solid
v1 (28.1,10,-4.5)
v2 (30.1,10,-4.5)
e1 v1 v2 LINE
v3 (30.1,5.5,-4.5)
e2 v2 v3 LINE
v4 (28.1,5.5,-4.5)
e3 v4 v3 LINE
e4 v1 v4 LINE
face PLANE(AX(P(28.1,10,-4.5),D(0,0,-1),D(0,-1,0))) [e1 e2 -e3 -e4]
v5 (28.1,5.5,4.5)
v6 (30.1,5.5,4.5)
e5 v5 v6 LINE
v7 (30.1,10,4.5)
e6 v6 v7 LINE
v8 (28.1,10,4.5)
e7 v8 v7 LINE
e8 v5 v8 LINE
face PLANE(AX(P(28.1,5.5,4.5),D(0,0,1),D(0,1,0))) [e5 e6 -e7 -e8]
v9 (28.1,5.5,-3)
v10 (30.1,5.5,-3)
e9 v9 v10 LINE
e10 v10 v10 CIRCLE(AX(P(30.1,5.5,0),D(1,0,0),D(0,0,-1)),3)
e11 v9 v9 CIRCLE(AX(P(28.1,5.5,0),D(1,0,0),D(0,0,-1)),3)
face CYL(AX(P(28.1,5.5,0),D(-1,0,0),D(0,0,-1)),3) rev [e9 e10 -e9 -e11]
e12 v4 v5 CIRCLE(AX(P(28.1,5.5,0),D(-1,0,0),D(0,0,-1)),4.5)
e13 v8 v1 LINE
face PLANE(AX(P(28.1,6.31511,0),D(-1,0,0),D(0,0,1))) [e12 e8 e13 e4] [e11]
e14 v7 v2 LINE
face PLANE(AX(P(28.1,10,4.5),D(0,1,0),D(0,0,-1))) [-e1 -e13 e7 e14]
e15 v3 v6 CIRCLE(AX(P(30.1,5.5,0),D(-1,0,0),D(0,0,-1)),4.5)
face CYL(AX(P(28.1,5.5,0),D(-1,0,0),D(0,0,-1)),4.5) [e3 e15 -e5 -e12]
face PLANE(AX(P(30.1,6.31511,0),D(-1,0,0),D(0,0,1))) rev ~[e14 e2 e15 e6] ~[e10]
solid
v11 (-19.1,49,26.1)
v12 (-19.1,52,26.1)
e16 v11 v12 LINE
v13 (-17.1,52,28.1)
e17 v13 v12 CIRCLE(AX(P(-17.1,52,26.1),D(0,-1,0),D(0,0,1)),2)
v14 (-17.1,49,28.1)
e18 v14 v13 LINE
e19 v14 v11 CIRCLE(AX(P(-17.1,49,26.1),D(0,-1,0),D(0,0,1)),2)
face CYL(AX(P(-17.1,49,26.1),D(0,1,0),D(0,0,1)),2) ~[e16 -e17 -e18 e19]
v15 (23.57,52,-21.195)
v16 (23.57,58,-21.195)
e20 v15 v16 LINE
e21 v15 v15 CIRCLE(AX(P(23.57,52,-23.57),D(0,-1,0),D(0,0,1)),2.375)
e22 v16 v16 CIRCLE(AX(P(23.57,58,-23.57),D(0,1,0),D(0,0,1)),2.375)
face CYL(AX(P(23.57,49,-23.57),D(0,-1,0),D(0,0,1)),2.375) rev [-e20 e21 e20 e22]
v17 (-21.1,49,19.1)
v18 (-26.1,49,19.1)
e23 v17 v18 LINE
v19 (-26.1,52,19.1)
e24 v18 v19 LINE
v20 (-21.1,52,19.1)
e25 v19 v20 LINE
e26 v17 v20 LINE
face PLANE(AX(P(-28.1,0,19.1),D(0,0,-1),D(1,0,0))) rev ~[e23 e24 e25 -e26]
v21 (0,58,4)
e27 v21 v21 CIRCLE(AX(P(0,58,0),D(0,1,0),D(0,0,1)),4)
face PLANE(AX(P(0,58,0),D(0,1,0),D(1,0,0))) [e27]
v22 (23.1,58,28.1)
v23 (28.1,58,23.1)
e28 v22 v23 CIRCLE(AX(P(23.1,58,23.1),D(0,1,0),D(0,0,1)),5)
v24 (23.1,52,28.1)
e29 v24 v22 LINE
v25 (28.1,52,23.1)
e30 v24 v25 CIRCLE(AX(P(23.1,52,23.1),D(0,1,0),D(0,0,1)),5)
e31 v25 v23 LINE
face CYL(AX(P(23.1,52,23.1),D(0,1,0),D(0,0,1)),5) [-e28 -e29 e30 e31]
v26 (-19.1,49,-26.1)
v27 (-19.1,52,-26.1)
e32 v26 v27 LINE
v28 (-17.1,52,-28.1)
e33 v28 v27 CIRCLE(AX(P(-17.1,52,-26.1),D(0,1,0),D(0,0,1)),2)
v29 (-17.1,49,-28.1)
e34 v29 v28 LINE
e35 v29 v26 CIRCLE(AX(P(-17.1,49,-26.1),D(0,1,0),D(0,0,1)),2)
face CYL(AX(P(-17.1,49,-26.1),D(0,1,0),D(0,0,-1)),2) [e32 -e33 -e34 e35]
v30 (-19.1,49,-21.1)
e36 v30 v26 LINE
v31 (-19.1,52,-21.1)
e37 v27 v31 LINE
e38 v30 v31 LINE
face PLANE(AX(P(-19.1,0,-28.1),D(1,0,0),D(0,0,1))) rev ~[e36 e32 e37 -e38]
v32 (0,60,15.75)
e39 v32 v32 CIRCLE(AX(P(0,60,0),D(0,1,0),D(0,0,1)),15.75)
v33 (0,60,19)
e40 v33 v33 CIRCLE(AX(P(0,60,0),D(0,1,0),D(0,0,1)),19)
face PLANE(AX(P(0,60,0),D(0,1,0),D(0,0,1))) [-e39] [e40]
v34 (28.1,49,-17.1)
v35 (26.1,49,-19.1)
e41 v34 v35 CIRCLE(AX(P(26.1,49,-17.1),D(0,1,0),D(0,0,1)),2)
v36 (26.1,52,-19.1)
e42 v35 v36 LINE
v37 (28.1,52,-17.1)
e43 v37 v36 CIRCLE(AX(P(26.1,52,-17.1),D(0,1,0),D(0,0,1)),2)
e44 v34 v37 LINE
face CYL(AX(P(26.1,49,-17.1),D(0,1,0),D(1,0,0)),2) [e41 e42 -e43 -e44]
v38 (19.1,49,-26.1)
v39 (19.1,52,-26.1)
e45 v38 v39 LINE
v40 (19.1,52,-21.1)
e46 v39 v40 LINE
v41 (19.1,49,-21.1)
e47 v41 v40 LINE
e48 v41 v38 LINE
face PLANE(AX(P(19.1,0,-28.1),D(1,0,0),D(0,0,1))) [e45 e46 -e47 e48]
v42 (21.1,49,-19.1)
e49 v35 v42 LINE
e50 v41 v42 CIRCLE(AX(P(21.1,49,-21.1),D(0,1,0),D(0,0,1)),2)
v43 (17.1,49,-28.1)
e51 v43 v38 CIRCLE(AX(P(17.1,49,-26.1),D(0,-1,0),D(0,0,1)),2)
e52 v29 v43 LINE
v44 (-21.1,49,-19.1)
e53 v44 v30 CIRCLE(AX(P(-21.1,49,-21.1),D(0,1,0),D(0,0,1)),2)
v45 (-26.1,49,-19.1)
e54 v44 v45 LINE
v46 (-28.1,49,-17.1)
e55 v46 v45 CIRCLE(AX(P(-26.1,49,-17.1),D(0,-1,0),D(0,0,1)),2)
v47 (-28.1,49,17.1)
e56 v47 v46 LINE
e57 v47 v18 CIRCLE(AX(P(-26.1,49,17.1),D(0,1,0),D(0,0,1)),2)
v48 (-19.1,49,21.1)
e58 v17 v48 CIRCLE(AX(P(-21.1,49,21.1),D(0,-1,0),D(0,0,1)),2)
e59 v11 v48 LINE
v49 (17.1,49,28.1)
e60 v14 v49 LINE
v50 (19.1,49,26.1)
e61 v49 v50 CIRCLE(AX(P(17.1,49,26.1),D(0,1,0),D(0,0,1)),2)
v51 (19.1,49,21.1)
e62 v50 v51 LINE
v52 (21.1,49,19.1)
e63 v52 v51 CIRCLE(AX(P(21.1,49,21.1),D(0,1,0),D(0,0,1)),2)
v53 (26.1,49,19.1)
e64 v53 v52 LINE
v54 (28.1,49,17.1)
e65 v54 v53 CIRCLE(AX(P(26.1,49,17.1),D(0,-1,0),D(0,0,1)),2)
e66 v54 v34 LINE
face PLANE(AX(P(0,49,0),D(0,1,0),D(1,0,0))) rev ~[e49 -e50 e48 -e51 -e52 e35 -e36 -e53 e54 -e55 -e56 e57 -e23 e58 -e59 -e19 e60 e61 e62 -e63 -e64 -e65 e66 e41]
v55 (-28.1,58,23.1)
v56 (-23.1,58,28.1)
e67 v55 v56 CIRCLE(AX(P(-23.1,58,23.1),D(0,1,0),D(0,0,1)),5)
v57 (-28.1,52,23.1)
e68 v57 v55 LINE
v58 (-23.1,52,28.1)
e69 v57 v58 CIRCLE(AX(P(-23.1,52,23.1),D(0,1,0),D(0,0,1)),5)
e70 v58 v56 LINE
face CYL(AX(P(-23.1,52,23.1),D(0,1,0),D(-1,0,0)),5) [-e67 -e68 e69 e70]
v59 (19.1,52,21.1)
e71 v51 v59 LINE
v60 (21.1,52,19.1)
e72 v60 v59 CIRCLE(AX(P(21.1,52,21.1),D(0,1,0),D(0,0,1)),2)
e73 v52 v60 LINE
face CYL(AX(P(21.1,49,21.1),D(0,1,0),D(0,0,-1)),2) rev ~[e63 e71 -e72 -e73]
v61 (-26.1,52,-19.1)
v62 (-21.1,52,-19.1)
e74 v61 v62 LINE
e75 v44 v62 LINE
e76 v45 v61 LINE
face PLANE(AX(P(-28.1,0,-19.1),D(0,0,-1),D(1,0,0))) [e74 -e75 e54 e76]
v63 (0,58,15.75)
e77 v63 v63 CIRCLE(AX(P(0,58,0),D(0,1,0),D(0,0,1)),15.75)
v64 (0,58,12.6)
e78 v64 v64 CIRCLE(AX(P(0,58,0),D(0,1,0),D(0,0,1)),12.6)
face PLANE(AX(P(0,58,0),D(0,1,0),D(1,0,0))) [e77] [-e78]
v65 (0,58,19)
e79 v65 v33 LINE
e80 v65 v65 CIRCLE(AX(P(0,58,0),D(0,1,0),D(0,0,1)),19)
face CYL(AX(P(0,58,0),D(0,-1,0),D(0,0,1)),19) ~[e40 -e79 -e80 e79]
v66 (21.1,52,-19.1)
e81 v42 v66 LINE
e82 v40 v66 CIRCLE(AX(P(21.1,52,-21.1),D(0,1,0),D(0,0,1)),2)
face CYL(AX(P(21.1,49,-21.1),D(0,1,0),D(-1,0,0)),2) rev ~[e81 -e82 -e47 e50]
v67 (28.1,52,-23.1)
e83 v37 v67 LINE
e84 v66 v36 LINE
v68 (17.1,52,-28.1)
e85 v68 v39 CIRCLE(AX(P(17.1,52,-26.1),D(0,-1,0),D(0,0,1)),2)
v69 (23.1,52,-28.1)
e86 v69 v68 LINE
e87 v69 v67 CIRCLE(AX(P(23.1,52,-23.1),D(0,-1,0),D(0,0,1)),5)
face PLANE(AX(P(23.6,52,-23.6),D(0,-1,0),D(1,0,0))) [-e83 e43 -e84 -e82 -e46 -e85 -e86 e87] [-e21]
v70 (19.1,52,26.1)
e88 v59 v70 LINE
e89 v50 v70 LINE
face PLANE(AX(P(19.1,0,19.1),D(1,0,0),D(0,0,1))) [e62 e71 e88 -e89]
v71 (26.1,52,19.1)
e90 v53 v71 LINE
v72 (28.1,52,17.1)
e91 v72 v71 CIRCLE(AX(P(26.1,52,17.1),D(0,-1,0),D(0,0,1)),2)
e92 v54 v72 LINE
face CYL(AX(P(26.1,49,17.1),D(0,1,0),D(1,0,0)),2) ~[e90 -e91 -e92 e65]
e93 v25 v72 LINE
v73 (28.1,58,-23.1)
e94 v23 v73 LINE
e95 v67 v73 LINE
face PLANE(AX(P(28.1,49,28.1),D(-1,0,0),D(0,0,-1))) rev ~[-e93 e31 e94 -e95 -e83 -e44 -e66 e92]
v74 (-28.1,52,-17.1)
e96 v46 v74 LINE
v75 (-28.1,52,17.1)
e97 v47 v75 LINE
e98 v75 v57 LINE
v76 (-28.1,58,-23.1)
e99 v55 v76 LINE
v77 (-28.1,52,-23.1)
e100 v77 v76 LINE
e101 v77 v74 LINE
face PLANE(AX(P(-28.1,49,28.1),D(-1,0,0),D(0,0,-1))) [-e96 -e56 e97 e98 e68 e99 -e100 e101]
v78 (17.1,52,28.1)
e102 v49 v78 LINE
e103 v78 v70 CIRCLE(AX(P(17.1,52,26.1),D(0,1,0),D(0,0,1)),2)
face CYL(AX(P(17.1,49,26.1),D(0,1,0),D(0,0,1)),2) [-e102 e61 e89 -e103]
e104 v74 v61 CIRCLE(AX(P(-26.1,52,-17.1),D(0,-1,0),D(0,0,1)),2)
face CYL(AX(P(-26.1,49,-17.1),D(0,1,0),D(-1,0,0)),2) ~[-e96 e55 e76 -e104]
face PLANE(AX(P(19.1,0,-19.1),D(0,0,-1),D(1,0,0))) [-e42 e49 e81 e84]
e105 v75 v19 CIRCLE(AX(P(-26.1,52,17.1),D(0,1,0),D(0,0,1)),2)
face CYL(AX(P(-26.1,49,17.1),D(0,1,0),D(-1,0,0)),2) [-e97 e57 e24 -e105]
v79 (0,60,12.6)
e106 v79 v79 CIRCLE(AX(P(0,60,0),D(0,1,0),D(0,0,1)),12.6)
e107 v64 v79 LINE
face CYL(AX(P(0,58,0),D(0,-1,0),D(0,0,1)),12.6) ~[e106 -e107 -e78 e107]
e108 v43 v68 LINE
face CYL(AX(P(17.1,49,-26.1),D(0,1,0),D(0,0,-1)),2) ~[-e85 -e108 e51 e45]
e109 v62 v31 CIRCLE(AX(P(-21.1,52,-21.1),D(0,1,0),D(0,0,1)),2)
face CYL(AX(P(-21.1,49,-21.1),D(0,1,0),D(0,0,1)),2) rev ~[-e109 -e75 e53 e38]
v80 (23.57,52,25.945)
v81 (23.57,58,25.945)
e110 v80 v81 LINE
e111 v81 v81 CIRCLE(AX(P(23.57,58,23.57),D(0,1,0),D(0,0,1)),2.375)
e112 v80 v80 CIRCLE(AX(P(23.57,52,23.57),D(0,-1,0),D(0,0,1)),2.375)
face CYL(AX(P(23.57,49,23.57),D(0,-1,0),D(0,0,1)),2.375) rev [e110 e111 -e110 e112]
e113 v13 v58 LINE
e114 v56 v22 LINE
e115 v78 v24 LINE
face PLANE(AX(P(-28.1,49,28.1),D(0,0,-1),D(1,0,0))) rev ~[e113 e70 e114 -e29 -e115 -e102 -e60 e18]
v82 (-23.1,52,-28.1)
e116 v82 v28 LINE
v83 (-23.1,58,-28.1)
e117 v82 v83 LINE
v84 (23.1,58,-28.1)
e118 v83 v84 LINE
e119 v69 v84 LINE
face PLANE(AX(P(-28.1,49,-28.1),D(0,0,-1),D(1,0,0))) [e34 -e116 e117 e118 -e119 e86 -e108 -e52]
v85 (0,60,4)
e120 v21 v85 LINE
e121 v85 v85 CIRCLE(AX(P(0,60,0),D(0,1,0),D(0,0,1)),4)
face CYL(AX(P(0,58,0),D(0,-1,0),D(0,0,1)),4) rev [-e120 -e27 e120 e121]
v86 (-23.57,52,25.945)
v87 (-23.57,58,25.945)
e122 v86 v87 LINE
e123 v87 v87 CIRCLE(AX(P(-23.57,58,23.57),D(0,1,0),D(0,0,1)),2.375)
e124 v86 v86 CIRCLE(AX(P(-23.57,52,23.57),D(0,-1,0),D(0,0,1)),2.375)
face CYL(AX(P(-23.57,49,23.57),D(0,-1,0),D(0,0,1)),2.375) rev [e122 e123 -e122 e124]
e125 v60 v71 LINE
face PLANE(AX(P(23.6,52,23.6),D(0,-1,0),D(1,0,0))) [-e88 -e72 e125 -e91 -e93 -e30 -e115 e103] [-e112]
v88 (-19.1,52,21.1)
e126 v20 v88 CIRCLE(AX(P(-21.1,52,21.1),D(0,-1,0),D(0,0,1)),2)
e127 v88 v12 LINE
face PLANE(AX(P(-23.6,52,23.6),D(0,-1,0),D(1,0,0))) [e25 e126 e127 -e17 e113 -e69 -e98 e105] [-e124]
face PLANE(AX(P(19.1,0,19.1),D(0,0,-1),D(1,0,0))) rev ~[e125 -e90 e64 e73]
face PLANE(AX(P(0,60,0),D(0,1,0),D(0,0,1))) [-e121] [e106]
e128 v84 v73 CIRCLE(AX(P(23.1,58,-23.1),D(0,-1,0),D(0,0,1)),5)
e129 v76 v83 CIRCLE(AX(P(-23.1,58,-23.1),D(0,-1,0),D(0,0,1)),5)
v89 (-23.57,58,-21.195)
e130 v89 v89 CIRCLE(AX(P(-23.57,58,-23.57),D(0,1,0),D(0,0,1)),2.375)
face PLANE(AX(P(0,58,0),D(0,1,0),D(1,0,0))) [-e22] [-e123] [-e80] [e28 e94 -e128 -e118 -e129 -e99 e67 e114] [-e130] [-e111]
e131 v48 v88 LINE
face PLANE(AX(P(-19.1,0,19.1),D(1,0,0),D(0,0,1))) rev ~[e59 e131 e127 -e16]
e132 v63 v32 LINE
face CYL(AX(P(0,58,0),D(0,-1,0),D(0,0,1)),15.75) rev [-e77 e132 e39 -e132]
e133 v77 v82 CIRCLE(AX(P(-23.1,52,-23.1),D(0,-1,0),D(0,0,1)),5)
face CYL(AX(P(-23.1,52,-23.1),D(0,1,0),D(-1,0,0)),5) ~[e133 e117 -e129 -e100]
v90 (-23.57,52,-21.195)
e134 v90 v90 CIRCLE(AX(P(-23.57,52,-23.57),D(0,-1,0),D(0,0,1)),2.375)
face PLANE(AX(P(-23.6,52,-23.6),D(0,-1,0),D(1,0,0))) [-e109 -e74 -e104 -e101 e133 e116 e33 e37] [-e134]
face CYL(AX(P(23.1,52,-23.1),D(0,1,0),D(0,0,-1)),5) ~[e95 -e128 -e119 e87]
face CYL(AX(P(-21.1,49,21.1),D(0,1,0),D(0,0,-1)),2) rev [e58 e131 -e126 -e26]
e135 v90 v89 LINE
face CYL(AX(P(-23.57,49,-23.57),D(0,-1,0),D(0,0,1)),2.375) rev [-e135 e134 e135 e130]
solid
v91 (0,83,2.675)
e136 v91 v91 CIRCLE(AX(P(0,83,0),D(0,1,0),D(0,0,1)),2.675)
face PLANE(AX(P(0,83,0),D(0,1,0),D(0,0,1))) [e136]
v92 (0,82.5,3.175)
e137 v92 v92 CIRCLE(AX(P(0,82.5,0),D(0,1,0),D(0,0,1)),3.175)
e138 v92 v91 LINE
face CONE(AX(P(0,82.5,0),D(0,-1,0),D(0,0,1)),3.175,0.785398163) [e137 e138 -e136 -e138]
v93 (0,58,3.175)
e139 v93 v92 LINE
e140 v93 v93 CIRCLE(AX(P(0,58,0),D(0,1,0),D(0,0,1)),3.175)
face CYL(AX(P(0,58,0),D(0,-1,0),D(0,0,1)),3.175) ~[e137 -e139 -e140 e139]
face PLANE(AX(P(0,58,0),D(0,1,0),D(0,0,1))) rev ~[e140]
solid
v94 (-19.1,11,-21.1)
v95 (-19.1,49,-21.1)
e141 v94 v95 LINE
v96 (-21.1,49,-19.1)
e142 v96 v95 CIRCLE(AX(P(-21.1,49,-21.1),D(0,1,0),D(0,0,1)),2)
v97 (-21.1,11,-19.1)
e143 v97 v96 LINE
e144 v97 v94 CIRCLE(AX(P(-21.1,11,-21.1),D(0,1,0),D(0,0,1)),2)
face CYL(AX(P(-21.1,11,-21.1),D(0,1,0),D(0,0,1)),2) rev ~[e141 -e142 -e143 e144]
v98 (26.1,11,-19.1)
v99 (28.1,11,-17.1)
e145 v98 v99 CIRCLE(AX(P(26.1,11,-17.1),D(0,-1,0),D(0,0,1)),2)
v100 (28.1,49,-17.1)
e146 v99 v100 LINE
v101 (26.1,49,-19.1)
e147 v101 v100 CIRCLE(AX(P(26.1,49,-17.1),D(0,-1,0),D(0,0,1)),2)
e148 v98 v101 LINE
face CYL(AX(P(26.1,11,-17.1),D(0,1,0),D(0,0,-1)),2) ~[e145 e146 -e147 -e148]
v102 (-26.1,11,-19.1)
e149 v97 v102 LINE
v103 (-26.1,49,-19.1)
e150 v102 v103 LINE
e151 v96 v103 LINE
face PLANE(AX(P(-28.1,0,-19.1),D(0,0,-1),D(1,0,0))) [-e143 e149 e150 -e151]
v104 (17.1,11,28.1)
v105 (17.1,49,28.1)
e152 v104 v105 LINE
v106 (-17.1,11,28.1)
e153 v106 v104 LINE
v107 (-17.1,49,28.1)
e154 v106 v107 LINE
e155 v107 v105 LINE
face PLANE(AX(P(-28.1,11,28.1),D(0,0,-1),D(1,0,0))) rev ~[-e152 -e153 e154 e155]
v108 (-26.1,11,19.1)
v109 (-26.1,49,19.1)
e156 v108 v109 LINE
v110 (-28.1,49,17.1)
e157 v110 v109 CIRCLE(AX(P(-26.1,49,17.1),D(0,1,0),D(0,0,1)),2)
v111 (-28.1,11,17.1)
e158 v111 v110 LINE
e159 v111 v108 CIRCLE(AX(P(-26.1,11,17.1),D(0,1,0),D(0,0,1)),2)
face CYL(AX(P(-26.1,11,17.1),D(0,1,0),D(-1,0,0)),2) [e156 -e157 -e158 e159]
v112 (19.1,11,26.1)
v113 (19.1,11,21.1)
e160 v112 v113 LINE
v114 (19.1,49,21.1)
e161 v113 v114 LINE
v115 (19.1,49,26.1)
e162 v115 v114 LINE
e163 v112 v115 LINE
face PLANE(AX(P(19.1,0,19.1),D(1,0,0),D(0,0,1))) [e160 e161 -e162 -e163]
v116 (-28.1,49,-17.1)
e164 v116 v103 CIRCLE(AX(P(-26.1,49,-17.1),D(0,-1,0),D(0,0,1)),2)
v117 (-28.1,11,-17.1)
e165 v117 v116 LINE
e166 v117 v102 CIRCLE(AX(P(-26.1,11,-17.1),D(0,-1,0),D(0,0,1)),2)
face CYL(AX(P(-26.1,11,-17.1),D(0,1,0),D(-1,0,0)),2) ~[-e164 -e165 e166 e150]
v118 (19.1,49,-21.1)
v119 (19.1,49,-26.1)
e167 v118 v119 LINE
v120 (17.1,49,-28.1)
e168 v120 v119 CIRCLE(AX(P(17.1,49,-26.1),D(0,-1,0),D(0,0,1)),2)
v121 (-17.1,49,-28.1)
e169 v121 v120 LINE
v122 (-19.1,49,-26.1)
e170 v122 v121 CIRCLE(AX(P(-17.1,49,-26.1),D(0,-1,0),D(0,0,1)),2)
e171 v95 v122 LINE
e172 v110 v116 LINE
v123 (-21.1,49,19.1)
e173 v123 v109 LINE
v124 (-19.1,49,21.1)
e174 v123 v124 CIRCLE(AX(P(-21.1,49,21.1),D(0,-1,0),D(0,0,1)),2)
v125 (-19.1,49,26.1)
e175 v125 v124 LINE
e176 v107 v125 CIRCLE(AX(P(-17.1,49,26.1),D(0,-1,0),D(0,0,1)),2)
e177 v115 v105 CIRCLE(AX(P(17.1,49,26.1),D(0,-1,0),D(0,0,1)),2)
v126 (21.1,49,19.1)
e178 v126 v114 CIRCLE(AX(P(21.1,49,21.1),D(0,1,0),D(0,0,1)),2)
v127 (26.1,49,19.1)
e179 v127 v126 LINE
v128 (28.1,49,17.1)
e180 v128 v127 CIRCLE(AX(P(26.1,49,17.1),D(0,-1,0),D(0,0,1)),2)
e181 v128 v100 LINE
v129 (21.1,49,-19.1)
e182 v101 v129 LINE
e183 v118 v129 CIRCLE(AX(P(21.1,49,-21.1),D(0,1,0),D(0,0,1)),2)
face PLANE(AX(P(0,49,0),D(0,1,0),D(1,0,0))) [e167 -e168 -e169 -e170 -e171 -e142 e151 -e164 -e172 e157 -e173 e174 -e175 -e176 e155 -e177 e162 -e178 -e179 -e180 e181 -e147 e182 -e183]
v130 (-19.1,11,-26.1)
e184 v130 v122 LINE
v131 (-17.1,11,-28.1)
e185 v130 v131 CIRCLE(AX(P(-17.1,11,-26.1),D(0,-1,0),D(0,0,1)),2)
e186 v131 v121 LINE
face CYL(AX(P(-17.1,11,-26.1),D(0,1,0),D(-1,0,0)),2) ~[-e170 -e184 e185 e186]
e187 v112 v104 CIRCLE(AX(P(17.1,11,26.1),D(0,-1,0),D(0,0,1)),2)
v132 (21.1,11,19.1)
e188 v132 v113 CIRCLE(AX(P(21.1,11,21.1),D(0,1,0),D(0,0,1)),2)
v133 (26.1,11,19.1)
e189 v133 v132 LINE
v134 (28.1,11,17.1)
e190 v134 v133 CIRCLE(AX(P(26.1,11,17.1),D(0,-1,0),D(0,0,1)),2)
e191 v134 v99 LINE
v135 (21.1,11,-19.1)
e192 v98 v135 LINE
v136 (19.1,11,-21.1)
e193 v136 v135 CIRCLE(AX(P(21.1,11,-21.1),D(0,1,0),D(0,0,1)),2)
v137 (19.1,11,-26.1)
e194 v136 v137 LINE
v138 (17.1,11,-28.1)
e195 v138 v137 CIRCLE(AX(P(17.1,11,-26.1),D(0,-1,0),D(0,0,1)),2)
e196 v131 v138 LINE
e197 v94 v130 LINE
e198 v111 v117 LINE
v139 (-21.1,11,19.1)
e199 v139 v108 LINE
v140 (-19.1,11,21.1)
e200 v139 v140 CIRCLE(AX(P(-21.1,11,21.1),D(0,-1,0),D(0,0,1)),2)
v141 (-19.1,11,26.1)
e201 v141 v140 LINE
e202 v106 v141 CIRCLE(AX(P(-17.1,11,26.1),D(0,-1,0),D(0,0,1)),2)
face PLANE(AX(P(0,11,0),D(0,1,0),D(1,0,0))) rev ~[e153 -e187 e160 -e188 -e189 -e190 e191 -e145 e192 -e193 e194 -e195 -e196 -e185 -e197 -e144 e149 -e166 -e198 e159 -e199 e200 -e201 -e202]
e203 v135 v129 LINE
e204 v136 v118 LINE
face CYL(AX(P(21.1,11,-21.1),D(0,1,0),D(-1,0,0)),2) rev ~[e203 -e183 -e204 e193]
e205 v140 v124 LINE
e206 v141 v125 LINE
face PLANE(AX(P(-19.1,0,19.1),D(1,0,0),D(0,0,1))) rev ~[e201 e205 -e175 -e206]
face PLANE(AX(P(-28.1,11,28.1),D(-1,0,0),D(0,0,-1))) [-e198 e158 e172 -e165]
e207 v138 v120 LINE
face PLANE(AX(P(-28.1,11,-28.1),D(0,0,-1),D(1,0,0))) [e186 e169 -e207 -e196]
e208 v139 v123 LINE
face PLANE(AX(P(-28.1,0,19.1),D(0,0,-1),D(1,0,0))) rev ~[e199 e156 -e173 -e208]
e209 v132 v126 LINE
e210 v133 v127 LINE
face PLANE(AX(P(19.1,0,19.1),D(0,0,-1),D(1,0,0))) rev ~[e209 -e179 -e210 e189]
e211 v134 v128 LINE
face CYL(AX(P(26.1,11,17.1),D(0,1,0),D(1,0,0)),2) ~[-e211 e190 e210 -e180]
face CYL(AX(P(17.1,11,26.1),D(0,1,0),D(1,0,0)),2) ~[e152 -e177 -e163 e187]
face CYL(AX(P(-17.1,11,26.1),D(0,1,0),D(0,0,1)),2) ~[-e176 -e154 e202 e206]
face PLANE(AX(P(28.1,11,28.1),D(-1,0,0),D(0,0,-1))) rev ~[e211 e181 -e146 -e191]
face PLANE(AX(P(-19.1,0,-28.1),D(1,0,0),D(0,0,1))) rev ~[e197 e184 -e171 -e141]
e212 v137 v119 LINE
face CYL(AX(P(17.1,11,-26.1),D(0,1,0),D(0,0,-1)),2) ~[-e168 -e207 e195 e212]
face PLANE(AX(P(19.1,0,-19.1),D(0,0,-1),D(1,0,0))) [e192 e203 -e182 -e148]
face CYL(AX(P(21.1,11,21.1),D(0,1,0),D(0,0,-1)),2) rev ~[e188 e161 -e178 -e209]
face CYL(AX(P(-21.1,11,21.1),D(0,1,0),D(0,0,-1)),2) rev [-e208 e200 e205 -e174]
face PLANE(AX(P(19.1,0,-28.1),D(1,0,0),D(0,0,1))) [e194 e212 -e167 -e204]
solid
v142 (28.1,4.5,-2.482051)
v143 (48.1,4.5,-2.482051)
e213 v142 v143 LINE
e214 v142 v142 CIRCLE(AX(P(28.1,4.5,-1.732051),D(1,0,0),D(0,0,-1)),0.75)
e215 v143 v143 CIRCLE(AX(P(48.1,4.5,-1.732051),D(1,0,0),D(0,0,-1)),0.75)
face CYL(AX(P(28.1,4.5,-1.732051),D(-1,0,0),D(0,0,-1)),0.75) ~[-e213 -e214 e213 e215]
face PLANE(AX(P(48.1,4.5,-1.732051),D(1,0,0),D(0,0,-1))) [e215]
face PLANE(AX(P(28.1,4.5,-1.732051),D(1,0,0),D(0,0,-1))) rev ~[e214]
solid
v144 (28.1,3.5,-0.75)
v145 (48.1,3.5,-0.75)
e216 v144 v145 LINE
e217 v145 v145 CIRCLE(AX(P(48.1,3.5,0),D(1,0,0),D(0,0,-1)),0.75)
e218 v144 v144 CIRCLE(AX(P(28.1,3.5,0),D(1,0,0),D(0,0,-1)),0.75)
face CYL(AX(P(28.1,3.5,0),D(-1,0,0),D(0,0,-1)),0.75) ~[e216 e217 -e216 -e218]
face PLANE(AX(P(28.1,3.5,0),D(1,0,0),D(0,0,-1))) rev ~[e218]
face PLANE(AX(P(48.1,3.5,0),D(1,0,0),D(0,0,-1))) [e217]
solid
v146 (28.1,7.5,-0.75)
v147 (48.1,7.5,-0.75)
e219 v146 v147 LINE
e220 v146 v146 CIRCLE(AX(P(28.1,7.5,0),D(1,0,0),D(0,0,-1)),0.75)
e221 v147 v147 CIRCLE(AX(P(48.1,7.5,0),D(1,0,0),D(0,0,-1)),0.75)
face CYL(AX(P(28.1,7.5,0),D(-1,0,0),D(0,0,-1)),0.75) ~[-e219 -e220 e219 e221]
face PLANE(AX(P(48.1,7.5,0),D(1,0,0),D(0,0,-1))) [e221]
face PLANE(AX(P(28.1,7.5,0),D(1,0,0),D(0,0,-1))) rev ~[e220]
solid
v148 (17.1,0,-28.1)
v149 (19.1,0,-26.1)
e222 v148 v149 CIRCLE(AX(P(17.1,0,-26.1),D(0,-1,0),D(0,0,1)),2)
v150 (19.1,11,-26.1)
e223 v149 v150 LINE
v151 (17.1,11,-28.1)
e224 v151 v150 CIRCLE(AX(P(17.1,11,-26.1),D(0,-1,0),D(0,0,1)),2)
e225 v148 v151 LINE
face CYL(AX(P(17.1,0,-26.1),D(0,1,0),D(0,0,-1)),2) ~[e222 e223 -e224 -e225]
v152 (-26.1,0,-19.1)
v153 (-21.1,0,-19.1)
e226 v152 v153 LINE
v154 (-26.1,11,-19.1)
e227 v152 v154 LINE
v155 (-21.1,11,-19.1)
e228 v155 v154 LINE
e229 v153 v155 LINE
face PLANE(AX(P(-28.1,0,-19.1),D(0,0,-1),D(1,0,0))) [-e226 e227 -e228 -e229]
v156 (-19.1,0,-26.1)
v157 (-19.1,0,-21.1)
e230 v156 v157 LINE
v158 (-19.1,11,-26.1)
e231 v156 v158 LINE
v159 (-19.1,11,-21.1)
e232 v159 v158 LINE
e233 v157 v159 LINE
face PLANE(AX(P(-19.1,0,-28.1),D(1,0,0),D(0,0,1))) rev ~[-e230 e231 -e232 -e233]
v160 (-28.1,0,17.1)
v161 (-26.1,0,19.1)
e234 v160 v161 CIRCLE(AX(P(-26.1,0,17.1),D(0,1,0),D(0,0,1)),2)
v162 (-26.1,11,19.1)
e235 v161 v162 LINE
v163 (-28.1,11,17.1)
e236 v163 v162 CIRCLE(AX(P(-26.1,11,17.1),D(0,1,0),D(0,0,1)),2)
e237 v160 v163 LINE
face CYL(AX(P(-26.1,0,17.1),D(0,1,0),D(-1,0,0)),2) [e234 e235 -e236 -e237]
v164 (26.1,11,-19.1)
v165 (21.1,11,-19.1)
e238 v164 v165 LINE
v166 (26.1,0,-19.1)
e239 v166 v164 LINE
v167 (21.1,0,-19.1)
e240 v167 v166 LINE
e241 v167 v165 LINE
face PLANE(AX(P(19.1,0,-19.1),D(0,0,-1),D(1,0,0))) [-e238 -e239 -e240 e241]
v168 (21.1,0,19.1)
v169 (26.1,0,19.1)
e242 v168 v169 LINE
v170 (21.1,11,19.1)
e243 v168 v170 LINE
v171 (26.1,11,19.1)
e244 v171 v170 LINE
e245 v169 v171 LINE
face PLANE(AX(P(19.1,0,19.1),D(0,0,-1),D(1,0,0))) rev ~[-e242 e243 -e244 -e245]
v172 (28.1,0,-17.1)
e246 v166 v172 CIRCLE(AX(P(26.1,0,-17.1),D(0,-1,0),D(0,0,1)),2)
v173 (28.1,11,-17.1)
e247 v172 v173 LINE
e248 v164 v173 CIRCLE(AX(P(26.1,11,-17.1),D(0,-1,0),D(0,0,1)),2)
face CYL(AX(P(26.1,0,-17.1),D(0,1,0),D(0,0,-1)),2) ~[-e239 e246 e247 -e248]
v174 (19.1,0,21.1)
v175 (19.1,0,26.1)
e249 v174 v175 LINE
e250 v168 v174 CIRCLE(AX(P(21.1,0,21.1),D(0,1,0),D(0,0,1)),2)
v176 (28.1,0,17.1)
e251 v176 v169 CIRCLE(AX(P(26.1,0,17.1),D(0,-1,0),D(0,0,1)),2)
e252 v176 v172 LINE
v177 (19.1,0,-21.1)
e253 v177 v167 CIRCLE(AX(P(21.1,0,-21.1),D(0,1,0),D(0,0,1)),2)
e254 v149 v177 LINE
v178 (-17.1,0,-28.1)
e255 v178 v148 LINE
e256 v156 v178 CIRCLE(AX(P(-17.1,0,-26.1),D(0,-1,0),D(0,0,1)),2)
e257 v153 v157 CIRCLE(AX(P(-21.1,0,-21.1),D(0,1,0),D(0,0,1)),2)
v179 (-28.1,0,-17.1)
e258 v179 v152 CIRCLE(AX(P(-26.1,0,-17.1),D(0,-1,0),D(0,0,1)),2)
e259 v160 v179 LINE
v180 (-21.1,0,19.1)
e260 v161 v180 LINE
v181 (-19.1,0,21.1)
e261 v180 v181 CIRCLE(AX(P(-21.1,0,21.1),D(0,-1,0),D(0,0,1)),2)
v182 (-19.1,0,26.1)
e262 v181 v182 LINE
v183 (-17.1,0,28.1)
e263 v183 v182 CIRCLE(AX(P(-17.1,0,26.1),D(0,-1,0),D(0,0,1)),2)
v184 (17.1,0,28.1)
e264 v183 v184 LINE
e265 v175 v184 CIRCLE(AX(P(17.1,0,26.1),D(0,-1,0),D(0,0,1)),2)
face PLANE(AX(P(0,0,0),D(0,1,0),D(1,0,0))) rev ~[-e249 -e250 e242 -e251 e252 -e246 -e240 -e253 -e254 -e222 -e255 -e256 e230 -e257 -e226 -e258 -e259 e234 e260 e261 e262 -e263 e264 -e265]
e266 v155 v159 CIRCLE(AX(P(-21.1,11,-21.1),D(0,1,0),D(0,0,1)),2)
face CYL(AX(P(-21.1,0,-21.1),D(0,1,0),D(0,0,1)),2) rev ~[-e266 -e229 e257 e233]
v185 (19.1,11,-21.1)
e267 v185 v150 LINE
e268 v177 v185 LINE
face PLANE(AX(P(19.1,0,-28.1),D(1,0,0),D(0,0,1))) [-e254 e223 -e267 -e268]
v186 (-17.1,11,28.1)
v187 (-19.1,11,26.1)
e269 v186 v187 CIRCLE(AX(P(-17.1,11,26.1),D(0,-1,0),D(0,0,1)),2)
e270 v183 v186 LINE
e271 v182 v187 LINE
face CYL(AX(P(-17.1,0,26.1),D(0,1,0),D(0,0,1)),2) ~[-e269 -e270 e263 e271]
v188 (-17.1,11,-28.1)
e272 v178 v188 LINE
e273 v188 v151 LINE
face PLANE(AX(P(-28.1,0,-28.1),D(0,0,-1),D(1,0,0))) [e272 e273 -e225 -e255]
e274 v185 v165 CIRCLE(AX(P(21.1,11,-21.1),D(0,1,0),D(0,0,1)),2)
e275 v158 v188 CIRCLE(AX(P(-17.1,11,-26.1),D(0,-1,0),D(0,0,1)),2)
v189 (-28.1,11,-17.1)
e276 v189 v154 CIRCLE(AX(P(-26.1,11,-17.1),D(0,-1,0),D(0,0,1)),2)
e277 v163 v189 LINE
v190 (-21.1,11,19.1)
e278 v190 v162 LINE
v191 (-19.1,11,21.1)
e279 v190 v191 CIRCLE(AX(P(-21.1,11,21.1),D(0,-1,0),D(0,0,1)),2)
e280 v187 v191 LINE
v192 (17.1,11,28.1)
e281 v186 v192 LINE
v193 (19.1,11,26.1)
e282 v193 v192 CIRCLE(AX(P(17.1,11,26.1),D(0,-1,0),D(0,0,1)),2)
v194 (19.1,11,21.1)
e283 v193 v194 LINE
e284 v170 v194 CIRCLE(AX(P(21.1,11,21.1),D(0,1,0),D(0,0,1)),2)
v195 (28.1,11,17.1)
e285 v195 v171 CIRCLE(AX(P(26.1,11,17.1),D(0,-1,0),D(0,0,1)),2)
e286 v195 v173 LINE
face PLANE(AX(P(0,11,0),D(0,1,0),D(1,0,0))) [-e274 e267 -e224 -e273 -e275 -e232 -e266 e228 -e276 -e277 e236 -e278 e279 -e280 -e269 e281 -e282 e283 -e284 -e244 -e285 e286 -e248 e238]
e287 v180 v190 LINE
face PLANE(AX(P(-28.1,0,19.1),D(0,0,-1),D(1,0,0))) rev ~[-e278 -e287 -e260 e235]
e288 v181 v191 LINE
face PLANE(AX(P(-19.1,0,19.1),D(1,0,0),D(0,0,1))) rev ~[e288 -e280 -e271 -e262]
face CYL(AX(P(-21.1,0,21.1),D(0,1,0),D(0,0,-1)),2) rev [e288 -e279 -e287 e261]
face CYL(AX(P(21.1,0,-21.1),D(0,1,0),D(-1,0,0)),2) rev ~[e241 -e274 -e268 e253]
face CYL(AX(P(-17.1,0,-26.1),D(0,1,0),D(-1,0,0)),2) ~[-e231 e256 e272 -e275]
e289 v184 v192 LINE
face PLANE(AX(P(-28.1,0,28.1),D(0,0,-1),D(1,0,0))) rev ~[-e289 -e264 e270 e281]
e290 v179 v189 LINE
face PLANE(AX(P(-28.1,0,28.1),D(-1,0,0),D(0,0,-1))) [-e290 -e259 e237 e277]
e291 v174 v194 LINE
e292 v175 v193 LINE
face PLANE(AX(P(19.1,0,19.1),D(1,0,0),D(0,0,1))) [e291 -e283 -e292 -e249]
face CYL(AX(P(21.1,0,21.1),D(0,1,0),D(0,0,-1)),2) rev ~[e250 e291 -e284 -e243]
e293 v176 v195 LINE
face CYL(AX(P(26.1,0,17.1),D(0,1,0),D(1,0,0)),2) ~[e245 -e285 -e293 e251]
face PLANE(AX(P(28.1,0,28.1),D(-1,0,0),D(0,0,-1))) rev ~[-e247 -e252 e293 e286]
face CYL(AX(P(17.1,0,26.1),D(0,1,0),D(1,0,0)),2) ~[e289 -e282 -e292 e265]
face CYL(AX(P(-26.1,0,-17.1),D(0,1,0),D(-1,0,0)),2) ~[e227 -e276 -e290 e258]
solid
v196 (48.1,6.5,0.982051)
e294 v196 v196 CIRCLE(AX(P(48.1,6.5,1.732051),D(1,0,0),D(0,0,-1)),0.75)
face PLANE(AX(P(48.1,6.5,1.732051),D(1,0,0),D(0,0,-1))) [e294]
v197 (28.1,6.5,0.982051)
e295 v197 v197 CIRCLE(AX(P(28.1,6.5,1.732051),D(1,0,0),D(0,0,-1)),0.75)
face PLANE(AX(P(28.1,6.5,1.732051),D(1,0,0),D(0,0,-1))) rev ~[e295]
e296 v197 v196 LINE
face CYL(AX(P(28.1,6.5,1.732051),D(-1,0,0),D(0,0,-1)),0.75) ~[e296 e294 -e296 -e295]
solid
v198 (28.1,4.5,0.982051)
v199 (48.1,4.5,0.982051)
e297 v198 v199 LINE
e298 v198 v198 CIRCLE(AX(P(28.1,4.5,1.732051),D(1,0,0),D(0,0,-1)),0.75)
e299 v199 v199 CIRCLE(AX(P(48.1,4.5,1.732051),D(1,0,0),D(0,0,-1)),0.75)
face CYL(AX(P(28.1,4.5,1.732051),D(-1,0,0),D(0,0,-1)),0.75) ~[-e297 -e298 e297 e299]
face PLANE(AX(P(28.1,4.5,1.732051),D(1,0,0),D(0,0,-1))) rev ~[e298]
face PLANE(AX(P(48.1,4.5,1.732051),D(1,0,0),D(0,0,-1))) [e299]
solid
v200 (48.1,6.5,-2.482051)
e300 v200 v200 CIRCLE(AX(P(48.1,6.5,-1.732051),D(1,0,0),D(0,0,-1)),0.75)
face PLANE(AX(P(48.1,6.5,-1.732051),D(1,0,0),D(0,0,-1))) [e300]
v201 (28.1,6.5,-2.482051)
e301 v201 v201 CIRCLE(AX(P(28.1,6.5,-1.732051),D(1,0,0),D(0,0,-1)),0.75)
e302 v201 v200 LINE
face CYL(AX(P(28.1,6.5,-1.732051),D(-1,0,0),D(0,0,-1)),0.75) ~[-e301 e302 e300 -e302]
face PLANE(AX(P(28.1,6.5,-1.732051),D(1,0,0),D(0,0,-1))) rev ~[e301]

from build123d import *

# Parameters (mm, degrees)
SKETCH1_W             = 56.2
SKETCH1_H             = 56.2
SKETCH1_R             = 2.375
BOSS_EXTRUDE2_DEPTH   = 11
SKETCH2_W             = 56.2
SKETCH2_H             = 56.2
SKETCH2_R             = 2.375
BOSS_EXTRUDE3_DEPTH   = 38
SKETCH3_W             = 56.2
SKETCH3_H             = 56.2
SKETCH3_R             = 2.375
BOSS_EXTRUDE4_DEPTH   = 9
SKETCH4_R             = 3
BOSS_EXTRUDE5_DEPTH   = 2
SKETCH5_R             = 0.75
BOSS_EXTRUDE6_DEPTH   = 20
BOSS_EXTRUDE6_2_DEPTH = 20
BOSS_EXTRUDE6_3_DEPTH = 20
BOSS_EXTRUDE6_4_DEPTH = 20
BOSS_EXTRUDE6_5_DEPTH = 20
BOSS_EXTRUDE6_6_DEPTH = 20
SKETCH6_R             = 19
SKETCH6_R_2           = 15.75
SKETCH6_R_3           = 12.6
SKETCH6_R_4           = 4
BOSS_EXTRUDE7_DEPTH   = 2
SKETCH7_R             = 3.175
BOSS_EXTRUDE8_DEPTH   = 25
SKETCH11_W            = 9
SKETCH11_H            = 9
CUT_EXTRUDE1_DEPTH    = 52
FILLET1_R             = 5
FILLET2_R             = 2
FILLET3_R             = 2
CHAMFER1_SIZE         = 0.5
FILLET4_R             = 2


with BuildPart() as part:
    # Sketch1 → Boss-Extrude2 (new body)
    with BuildSketch(Plane(origin=(0, 0, 0), x_dir=(1, 0, 0), z_dir=(0, 1, 0))):
        Rectangle(SKETCH1_W, SKETCH1_H)
        with Locations(Location((23.57, 23.57, 0), (0, 0, 270))):
            Circle(SKETCH1_R, mode=Mode.SUBTRACT)
        with Locations(Location((23.57, -23.57, 0), (0, 0, 270))):
            Circle(SKETCH1_R, mode=Mode.SUBTRACT)
        with Locations(Location((-23.57, -23.57, 0), (0, 0, 270))):
            Circle(SKETCH1_R, mode=Mode.SUBTRACT)
        with Locations(Location((-23.57, 23.57, 0), (0, 0, 270))):
            Circle(SKETCH1_R, mode=Mode.SUBTRACT)
    extrude(amount=BOSS_EXTRUDE2_DEPTH)


with BuildPart() as body_2:
    # Sketch2 → Boss-Extrude3 (new body)
    with BuildSketch(Plane(origin=(0, 11, 0), x_dir=(1, 0, 0), z_dir=(0, 1, 0))):
        Rectangle(SKETCH2_W, SKETCH2_H)
        with Locations(Location((-23.57, -23.57, 0), (0, 0, 270))):
            Circle(SKETCH2_R, mode=Mode.SUBTRACT)
        with Locations(Location((23.57, -23.57, 0), (0, 0, 270))):
            Circle(SKETCH2_R, mode=Mode.SUBTRACT)
        with Locations(Location((23.57, 23.57, 0), (0, 0, 270))):
            Circle(SKETCH2_R, mode=Mode.SUBTRACT)
        with Locations(Location((-23.57, 23.57, 0), (0, 0, 270))):
            Circle(SKETCH2_R, mode=Mode.SUBTRACT)
    extrude(amount=BOSS_EXTRUDE3_DEPTH)


with BuildPart() as body_3:
    # Sketch3 → Boss-Extrude4 (new body)
    with BuildSketch(Plane(origin=(0, 49, 0), x_dir=(1, 0, 0), z_dir=(0, 1, 0))):
        Rectangle(SKETCH3_W, SKETCH3_H)
        with Locations(Location((23.57, 23.57, 0), (0, 0, 270))):
            Circle(SKETCH3_R, mode=Mode.SUBTRACT)
        with Locations(Location((23.57, -23.57, 0), (0, 0, 270))):
            Circle(SKETCH3_R, mode=Mode.SUBTRACT)
        with Locations(Location((-23.57, -23.57, 0), (0, 0, 270))):
            Circle(SKETCH3_R, mode=Mode.SUBTRACT)
        with Locations(Location((-23.57, 23.57, 0), (0, 0, 270))):
            Circle(SKETCH3_R, mode=Mode.SUBTRACT)
    extrude(amount=BOSS_EXTRUDE4_DEPTH)

    # Sketch6 → Boss-Extrude7 (add)
    # profile 1 of 2: a face of its own
    with BuildSketch(Plane(origin=(0, 58, 0), x_dir=(1, 0, 0), z_dir=(0, 1, 0))):
        with Locations(Location((0, 0, 0), (0, 0, 270))):
            Circle(SKETCH6_R)
        with Locations(Location((0, 0, 0), (0, 0, 270))):
            Circle(SKETCH6_R_2, mode=Mode.SUBTRACT)
    # profile 2 of 2: a face of its own
    with BuildSketch(Plane(origin=(0, 58, 0), x_dir=(1, 0, 0), z_dir=(0, 1, 0))):
        with Locations(Location((0, 0, 0), (0, 0, 270))):
            Circle(SKETCH6_R_3)
        with Locations(Location((0, 0, 0), (0, 0, 270))):
            Circle(SKETCH6_R_4, mode=Mode.SUBTRACT)
    extrude(amount=BOSS_EXTRUDE7_DEPTH)


with BuildPart() as body_4:
    # Sketch4 → Boss-Extrude5 (new body)
    with BuildSketch(Plane(origin=(28.1, 0, 0), x_dir=(0, 0, -1), z_dir=(1, 0, 0))):
        with BuildLine():
            Line((-4.5, 5.5), (-4.5, 10))
            Line((-4.5, 10), (4.5, 10))
            Line((4.5, 10), (4.5, 5.5))
            ThreePointArc((4.5, 5.5), (0, 1), (-4.5, 5.5))
        make_face()
        with Locations((0, 5.5)):
            Circle(SKETCH4_R, mode=Mode.SUBTRACT)
    extrude(amount=BOSS_EXTRUDE5_DEPTH)


with BuildPart() as body_5:
    # Sketch5 → Boss-Extrude6 (new body)
    with BuildSketch(Plane(origin=(28.1, 0, 0), x_dir=(0, 0, -1), z_dir=(1, 0, 0))):
        with Locations((-1.732050808, 4.5)):
            Circle(SKETCH5_R)
    extrude(amount=BOSS_EXTRUDE6_DEPTH)


with BuildPart() as body_6:
    # Sketch5 → Boss-Extrude6 2 (new body)
    with BuildSketch(Plane(origin=(28.1, 0, 0), x_dir=(0, 0, -1), z_dir=(1, 0, 0))):
        with Locations((0, 3.5)):
            Circle(SKETCH5_R)
    extrude(amount=BOSS_EXTRUDE6_2_DEPTH)


with BuildPart() as body_7:
    # Sketch5 → Boss-Extrude6 3 (new body)
    with BuildSketch(Plane(origin=(28.1, 0, 0), x_dir=(0, 0, -1), z_dir=(1, 0, 0))):
        with Locations((-1.732050808, 6.5)):
            Circle(SKETCH5_R)
    extrude(amount=BOSS_EXTRUDE6_3_DEPTH)


with BuildPart() as body_8:
    # Sketch5 → Boss-Extrude6 4 (new body)
    with BuildSketch(Plane(origin=(28.1, 0, 0), x_dir=(0, 0, -1), z_dir=(1, 0, 0))):
        with Locations((0, 7.5)):
            Circle(SKETCH5_R)
    extrude(amount=BOSS_EXTRUDE6_4_DEPTH)


with BuildPart() as body_9:
    # Sketch5 → Boss-Extrude6 5 (new body)
    with BuildSketch(Plane(origin=(28.1, 0, 0), x_dir=(0, 0, -1), z_dir=(1, 0, 0))):
        with Locations((1.732050808, 6.5)):
            Circle(SKETCH5_R)
    extrude(amount=BOSS_EXTRUDE6_5_DEPTH)


with BuildPart() as body_10:
    # Sketch5 → Boss-Extrude6 6 (new body)
    with BuildSketch(Plane(origin=(28.1, 0, 0), x_dir=(0, 0, -1), z_dir=(1, 0, 0))):
        with Locations((1.732050808, 4.5)):
            Circle(SKETCH5_R)
    extrude(amount=BOSS_EXTRUDE6_6_DEPTH)


with BuildPart() as body_11:
    # Sketch7 → Boss-Extrude8 (new body)
    with BuildSketch(Plane(origin=(0, 58, 0), x_dir=(1, 0, 0), z_dir=(0, 1, 0))):
        with Locations(Location((0, 0, 0), (0, 0, 270))):
            Circle(SKETCH7_R)
    extrude(amount=BOSS_EXTRUDE8_DEPTH)

    # Chamfer1
    chamfer1_edges = [body_11.edges().sort_by_distance(p)[0] for p in [
        (0, 83, -3.175),
    ]]
    chamfer(chamfer1_edges, length=CHAMFER1_SIZE)


with BuildPart() as cut_extrude1_tool:
    # Sketch11 → Cut-Extrude1 (new body)
    with BuildSketch(Plane.XZ):
        with Locations((-23.6, 23.6)):
            Rectangle(SKETCH11_W, SKETCH11_H)
        with Locations((23.6, 23.6)):
            Rectangle(SKETCH11_W, SKETCH11_H)
        with Locations((23.6, -23.6)):
            Rectangle(SKETCH11_W, SKETCH11_H)
        with Locations((-23.6, -23.6)):
            Rectangle(SKETCH11_W, SKETCH11_H)
    extrude(amount=-CUT_EXTRUDE1_DEPTH)


with BuildPart() as part_1:
    add(part.part)

    # Cut-Extrude1: cut by cut_extrude1_tool
    add(cut_extrude1_tool.part, mode=Mode.SUBTRACT)

    # Fillet2
    fillet2_edges = [part_1.edges().sort_by_distance(p)[0] for p in [
        (-19.1, 5.5, -28.1),
        (19.1, 5.5, -28.1),
        (28.1, 5.5, 19.1),
        (-19.1, 5.5, 28.1),
        (-19.1, 5.5, 19.1),
        (-28.1, 5.5, 19.1),
        (19.1, 5.5, 19.1),
        (19.1, 5.5, 28.1),
        (19.1, 5.5, -19.1),
        (28.1, 5.5, -19.1),
        (-19.1, 5.5, -19.1),
        (-28.1, 5.5, -19.1),
    ]]
    fillet(fillet2_edges, radius=FILLET2_R)


with BuildPart() as body_2_1:
    add(body_2.part)

    # Cut-Extrude1: cut by cut_extrude1_tool
    add(cut_extrude1_tool.part, mode=Mode.SUBTRACT)

    # Fillet3
    fillet3_edges = [body_2_1.edges().sort_by_distance(p)[0] for p in [
        (-19.1, 30, -28.1),
        (19.1, 30, -28.1),
        (28.1, 30, 19.1),
        (-19.1, 30, 28.1),
        (-19.1, 30, 19.1),
        (-28.1, 30, 19.1),
        (19.1, 30, 19.1),
        (19.1, 30, 28.1),
        (19.1, 30, -19.1),
        (28.1, 30, -19.1),
        (-28.1, 30, -19.1),
        (-19.1, 30, -19.1),
    ]]
    fillet(fillet3_edges, radius=FILLET3_R)


with BuildPart() as body_3_1:
    add(body_3.part)

    # Cut-Extrude1: cut by cut_extrude1_tool
    add(cut_extrude1_tool.part, mode=Mode.SUBTRACT)

    # Fillet1
    fillet1_edges = [body_3_1.edges().sort_by_distance(p)[0] for p in [
        (-28.1, 55, -28.1),
        (28.1, 55, -28.1),
        (28.1, 55, 28.1),
        (-28.1, 55, 28.1),
    ]]
    fillet(fillet1_edges, radius=FILLET1_R)

    # Fillet4
    fillet4_edges = [body_3_1.edges().sort_by_distance(p)[0] for p in [
        (-19.1, 50.5, 19.1),
        (-19.1, 50.5, 28.1),
        (-28.1, 50.5, 19.1),
        (19.1, 50.5, 19.1),
        (28.1, 50.5, 19.1),
        (19.1, 50.5, 28.1),
        (19.1, 50.5, -19.1),
        (19.1, 50.5, -28.1),
        (28.1, 50.5, -19.1),
        (-28.1, 50.5, -19.1),
        (-19.1, 50.5, -28.1),
        (-19.1, 50.5, -19.1),
    ]]
    fillet(fillet4_edges, radius=FILLET4_R)


solid = Compound([body_4.part, body_5.part, body_6.part, body_7.part, body_8.part, body_9.part, body_10.part, body_11.part, part_1.part, body_2_1.part, body_3_1.part])
